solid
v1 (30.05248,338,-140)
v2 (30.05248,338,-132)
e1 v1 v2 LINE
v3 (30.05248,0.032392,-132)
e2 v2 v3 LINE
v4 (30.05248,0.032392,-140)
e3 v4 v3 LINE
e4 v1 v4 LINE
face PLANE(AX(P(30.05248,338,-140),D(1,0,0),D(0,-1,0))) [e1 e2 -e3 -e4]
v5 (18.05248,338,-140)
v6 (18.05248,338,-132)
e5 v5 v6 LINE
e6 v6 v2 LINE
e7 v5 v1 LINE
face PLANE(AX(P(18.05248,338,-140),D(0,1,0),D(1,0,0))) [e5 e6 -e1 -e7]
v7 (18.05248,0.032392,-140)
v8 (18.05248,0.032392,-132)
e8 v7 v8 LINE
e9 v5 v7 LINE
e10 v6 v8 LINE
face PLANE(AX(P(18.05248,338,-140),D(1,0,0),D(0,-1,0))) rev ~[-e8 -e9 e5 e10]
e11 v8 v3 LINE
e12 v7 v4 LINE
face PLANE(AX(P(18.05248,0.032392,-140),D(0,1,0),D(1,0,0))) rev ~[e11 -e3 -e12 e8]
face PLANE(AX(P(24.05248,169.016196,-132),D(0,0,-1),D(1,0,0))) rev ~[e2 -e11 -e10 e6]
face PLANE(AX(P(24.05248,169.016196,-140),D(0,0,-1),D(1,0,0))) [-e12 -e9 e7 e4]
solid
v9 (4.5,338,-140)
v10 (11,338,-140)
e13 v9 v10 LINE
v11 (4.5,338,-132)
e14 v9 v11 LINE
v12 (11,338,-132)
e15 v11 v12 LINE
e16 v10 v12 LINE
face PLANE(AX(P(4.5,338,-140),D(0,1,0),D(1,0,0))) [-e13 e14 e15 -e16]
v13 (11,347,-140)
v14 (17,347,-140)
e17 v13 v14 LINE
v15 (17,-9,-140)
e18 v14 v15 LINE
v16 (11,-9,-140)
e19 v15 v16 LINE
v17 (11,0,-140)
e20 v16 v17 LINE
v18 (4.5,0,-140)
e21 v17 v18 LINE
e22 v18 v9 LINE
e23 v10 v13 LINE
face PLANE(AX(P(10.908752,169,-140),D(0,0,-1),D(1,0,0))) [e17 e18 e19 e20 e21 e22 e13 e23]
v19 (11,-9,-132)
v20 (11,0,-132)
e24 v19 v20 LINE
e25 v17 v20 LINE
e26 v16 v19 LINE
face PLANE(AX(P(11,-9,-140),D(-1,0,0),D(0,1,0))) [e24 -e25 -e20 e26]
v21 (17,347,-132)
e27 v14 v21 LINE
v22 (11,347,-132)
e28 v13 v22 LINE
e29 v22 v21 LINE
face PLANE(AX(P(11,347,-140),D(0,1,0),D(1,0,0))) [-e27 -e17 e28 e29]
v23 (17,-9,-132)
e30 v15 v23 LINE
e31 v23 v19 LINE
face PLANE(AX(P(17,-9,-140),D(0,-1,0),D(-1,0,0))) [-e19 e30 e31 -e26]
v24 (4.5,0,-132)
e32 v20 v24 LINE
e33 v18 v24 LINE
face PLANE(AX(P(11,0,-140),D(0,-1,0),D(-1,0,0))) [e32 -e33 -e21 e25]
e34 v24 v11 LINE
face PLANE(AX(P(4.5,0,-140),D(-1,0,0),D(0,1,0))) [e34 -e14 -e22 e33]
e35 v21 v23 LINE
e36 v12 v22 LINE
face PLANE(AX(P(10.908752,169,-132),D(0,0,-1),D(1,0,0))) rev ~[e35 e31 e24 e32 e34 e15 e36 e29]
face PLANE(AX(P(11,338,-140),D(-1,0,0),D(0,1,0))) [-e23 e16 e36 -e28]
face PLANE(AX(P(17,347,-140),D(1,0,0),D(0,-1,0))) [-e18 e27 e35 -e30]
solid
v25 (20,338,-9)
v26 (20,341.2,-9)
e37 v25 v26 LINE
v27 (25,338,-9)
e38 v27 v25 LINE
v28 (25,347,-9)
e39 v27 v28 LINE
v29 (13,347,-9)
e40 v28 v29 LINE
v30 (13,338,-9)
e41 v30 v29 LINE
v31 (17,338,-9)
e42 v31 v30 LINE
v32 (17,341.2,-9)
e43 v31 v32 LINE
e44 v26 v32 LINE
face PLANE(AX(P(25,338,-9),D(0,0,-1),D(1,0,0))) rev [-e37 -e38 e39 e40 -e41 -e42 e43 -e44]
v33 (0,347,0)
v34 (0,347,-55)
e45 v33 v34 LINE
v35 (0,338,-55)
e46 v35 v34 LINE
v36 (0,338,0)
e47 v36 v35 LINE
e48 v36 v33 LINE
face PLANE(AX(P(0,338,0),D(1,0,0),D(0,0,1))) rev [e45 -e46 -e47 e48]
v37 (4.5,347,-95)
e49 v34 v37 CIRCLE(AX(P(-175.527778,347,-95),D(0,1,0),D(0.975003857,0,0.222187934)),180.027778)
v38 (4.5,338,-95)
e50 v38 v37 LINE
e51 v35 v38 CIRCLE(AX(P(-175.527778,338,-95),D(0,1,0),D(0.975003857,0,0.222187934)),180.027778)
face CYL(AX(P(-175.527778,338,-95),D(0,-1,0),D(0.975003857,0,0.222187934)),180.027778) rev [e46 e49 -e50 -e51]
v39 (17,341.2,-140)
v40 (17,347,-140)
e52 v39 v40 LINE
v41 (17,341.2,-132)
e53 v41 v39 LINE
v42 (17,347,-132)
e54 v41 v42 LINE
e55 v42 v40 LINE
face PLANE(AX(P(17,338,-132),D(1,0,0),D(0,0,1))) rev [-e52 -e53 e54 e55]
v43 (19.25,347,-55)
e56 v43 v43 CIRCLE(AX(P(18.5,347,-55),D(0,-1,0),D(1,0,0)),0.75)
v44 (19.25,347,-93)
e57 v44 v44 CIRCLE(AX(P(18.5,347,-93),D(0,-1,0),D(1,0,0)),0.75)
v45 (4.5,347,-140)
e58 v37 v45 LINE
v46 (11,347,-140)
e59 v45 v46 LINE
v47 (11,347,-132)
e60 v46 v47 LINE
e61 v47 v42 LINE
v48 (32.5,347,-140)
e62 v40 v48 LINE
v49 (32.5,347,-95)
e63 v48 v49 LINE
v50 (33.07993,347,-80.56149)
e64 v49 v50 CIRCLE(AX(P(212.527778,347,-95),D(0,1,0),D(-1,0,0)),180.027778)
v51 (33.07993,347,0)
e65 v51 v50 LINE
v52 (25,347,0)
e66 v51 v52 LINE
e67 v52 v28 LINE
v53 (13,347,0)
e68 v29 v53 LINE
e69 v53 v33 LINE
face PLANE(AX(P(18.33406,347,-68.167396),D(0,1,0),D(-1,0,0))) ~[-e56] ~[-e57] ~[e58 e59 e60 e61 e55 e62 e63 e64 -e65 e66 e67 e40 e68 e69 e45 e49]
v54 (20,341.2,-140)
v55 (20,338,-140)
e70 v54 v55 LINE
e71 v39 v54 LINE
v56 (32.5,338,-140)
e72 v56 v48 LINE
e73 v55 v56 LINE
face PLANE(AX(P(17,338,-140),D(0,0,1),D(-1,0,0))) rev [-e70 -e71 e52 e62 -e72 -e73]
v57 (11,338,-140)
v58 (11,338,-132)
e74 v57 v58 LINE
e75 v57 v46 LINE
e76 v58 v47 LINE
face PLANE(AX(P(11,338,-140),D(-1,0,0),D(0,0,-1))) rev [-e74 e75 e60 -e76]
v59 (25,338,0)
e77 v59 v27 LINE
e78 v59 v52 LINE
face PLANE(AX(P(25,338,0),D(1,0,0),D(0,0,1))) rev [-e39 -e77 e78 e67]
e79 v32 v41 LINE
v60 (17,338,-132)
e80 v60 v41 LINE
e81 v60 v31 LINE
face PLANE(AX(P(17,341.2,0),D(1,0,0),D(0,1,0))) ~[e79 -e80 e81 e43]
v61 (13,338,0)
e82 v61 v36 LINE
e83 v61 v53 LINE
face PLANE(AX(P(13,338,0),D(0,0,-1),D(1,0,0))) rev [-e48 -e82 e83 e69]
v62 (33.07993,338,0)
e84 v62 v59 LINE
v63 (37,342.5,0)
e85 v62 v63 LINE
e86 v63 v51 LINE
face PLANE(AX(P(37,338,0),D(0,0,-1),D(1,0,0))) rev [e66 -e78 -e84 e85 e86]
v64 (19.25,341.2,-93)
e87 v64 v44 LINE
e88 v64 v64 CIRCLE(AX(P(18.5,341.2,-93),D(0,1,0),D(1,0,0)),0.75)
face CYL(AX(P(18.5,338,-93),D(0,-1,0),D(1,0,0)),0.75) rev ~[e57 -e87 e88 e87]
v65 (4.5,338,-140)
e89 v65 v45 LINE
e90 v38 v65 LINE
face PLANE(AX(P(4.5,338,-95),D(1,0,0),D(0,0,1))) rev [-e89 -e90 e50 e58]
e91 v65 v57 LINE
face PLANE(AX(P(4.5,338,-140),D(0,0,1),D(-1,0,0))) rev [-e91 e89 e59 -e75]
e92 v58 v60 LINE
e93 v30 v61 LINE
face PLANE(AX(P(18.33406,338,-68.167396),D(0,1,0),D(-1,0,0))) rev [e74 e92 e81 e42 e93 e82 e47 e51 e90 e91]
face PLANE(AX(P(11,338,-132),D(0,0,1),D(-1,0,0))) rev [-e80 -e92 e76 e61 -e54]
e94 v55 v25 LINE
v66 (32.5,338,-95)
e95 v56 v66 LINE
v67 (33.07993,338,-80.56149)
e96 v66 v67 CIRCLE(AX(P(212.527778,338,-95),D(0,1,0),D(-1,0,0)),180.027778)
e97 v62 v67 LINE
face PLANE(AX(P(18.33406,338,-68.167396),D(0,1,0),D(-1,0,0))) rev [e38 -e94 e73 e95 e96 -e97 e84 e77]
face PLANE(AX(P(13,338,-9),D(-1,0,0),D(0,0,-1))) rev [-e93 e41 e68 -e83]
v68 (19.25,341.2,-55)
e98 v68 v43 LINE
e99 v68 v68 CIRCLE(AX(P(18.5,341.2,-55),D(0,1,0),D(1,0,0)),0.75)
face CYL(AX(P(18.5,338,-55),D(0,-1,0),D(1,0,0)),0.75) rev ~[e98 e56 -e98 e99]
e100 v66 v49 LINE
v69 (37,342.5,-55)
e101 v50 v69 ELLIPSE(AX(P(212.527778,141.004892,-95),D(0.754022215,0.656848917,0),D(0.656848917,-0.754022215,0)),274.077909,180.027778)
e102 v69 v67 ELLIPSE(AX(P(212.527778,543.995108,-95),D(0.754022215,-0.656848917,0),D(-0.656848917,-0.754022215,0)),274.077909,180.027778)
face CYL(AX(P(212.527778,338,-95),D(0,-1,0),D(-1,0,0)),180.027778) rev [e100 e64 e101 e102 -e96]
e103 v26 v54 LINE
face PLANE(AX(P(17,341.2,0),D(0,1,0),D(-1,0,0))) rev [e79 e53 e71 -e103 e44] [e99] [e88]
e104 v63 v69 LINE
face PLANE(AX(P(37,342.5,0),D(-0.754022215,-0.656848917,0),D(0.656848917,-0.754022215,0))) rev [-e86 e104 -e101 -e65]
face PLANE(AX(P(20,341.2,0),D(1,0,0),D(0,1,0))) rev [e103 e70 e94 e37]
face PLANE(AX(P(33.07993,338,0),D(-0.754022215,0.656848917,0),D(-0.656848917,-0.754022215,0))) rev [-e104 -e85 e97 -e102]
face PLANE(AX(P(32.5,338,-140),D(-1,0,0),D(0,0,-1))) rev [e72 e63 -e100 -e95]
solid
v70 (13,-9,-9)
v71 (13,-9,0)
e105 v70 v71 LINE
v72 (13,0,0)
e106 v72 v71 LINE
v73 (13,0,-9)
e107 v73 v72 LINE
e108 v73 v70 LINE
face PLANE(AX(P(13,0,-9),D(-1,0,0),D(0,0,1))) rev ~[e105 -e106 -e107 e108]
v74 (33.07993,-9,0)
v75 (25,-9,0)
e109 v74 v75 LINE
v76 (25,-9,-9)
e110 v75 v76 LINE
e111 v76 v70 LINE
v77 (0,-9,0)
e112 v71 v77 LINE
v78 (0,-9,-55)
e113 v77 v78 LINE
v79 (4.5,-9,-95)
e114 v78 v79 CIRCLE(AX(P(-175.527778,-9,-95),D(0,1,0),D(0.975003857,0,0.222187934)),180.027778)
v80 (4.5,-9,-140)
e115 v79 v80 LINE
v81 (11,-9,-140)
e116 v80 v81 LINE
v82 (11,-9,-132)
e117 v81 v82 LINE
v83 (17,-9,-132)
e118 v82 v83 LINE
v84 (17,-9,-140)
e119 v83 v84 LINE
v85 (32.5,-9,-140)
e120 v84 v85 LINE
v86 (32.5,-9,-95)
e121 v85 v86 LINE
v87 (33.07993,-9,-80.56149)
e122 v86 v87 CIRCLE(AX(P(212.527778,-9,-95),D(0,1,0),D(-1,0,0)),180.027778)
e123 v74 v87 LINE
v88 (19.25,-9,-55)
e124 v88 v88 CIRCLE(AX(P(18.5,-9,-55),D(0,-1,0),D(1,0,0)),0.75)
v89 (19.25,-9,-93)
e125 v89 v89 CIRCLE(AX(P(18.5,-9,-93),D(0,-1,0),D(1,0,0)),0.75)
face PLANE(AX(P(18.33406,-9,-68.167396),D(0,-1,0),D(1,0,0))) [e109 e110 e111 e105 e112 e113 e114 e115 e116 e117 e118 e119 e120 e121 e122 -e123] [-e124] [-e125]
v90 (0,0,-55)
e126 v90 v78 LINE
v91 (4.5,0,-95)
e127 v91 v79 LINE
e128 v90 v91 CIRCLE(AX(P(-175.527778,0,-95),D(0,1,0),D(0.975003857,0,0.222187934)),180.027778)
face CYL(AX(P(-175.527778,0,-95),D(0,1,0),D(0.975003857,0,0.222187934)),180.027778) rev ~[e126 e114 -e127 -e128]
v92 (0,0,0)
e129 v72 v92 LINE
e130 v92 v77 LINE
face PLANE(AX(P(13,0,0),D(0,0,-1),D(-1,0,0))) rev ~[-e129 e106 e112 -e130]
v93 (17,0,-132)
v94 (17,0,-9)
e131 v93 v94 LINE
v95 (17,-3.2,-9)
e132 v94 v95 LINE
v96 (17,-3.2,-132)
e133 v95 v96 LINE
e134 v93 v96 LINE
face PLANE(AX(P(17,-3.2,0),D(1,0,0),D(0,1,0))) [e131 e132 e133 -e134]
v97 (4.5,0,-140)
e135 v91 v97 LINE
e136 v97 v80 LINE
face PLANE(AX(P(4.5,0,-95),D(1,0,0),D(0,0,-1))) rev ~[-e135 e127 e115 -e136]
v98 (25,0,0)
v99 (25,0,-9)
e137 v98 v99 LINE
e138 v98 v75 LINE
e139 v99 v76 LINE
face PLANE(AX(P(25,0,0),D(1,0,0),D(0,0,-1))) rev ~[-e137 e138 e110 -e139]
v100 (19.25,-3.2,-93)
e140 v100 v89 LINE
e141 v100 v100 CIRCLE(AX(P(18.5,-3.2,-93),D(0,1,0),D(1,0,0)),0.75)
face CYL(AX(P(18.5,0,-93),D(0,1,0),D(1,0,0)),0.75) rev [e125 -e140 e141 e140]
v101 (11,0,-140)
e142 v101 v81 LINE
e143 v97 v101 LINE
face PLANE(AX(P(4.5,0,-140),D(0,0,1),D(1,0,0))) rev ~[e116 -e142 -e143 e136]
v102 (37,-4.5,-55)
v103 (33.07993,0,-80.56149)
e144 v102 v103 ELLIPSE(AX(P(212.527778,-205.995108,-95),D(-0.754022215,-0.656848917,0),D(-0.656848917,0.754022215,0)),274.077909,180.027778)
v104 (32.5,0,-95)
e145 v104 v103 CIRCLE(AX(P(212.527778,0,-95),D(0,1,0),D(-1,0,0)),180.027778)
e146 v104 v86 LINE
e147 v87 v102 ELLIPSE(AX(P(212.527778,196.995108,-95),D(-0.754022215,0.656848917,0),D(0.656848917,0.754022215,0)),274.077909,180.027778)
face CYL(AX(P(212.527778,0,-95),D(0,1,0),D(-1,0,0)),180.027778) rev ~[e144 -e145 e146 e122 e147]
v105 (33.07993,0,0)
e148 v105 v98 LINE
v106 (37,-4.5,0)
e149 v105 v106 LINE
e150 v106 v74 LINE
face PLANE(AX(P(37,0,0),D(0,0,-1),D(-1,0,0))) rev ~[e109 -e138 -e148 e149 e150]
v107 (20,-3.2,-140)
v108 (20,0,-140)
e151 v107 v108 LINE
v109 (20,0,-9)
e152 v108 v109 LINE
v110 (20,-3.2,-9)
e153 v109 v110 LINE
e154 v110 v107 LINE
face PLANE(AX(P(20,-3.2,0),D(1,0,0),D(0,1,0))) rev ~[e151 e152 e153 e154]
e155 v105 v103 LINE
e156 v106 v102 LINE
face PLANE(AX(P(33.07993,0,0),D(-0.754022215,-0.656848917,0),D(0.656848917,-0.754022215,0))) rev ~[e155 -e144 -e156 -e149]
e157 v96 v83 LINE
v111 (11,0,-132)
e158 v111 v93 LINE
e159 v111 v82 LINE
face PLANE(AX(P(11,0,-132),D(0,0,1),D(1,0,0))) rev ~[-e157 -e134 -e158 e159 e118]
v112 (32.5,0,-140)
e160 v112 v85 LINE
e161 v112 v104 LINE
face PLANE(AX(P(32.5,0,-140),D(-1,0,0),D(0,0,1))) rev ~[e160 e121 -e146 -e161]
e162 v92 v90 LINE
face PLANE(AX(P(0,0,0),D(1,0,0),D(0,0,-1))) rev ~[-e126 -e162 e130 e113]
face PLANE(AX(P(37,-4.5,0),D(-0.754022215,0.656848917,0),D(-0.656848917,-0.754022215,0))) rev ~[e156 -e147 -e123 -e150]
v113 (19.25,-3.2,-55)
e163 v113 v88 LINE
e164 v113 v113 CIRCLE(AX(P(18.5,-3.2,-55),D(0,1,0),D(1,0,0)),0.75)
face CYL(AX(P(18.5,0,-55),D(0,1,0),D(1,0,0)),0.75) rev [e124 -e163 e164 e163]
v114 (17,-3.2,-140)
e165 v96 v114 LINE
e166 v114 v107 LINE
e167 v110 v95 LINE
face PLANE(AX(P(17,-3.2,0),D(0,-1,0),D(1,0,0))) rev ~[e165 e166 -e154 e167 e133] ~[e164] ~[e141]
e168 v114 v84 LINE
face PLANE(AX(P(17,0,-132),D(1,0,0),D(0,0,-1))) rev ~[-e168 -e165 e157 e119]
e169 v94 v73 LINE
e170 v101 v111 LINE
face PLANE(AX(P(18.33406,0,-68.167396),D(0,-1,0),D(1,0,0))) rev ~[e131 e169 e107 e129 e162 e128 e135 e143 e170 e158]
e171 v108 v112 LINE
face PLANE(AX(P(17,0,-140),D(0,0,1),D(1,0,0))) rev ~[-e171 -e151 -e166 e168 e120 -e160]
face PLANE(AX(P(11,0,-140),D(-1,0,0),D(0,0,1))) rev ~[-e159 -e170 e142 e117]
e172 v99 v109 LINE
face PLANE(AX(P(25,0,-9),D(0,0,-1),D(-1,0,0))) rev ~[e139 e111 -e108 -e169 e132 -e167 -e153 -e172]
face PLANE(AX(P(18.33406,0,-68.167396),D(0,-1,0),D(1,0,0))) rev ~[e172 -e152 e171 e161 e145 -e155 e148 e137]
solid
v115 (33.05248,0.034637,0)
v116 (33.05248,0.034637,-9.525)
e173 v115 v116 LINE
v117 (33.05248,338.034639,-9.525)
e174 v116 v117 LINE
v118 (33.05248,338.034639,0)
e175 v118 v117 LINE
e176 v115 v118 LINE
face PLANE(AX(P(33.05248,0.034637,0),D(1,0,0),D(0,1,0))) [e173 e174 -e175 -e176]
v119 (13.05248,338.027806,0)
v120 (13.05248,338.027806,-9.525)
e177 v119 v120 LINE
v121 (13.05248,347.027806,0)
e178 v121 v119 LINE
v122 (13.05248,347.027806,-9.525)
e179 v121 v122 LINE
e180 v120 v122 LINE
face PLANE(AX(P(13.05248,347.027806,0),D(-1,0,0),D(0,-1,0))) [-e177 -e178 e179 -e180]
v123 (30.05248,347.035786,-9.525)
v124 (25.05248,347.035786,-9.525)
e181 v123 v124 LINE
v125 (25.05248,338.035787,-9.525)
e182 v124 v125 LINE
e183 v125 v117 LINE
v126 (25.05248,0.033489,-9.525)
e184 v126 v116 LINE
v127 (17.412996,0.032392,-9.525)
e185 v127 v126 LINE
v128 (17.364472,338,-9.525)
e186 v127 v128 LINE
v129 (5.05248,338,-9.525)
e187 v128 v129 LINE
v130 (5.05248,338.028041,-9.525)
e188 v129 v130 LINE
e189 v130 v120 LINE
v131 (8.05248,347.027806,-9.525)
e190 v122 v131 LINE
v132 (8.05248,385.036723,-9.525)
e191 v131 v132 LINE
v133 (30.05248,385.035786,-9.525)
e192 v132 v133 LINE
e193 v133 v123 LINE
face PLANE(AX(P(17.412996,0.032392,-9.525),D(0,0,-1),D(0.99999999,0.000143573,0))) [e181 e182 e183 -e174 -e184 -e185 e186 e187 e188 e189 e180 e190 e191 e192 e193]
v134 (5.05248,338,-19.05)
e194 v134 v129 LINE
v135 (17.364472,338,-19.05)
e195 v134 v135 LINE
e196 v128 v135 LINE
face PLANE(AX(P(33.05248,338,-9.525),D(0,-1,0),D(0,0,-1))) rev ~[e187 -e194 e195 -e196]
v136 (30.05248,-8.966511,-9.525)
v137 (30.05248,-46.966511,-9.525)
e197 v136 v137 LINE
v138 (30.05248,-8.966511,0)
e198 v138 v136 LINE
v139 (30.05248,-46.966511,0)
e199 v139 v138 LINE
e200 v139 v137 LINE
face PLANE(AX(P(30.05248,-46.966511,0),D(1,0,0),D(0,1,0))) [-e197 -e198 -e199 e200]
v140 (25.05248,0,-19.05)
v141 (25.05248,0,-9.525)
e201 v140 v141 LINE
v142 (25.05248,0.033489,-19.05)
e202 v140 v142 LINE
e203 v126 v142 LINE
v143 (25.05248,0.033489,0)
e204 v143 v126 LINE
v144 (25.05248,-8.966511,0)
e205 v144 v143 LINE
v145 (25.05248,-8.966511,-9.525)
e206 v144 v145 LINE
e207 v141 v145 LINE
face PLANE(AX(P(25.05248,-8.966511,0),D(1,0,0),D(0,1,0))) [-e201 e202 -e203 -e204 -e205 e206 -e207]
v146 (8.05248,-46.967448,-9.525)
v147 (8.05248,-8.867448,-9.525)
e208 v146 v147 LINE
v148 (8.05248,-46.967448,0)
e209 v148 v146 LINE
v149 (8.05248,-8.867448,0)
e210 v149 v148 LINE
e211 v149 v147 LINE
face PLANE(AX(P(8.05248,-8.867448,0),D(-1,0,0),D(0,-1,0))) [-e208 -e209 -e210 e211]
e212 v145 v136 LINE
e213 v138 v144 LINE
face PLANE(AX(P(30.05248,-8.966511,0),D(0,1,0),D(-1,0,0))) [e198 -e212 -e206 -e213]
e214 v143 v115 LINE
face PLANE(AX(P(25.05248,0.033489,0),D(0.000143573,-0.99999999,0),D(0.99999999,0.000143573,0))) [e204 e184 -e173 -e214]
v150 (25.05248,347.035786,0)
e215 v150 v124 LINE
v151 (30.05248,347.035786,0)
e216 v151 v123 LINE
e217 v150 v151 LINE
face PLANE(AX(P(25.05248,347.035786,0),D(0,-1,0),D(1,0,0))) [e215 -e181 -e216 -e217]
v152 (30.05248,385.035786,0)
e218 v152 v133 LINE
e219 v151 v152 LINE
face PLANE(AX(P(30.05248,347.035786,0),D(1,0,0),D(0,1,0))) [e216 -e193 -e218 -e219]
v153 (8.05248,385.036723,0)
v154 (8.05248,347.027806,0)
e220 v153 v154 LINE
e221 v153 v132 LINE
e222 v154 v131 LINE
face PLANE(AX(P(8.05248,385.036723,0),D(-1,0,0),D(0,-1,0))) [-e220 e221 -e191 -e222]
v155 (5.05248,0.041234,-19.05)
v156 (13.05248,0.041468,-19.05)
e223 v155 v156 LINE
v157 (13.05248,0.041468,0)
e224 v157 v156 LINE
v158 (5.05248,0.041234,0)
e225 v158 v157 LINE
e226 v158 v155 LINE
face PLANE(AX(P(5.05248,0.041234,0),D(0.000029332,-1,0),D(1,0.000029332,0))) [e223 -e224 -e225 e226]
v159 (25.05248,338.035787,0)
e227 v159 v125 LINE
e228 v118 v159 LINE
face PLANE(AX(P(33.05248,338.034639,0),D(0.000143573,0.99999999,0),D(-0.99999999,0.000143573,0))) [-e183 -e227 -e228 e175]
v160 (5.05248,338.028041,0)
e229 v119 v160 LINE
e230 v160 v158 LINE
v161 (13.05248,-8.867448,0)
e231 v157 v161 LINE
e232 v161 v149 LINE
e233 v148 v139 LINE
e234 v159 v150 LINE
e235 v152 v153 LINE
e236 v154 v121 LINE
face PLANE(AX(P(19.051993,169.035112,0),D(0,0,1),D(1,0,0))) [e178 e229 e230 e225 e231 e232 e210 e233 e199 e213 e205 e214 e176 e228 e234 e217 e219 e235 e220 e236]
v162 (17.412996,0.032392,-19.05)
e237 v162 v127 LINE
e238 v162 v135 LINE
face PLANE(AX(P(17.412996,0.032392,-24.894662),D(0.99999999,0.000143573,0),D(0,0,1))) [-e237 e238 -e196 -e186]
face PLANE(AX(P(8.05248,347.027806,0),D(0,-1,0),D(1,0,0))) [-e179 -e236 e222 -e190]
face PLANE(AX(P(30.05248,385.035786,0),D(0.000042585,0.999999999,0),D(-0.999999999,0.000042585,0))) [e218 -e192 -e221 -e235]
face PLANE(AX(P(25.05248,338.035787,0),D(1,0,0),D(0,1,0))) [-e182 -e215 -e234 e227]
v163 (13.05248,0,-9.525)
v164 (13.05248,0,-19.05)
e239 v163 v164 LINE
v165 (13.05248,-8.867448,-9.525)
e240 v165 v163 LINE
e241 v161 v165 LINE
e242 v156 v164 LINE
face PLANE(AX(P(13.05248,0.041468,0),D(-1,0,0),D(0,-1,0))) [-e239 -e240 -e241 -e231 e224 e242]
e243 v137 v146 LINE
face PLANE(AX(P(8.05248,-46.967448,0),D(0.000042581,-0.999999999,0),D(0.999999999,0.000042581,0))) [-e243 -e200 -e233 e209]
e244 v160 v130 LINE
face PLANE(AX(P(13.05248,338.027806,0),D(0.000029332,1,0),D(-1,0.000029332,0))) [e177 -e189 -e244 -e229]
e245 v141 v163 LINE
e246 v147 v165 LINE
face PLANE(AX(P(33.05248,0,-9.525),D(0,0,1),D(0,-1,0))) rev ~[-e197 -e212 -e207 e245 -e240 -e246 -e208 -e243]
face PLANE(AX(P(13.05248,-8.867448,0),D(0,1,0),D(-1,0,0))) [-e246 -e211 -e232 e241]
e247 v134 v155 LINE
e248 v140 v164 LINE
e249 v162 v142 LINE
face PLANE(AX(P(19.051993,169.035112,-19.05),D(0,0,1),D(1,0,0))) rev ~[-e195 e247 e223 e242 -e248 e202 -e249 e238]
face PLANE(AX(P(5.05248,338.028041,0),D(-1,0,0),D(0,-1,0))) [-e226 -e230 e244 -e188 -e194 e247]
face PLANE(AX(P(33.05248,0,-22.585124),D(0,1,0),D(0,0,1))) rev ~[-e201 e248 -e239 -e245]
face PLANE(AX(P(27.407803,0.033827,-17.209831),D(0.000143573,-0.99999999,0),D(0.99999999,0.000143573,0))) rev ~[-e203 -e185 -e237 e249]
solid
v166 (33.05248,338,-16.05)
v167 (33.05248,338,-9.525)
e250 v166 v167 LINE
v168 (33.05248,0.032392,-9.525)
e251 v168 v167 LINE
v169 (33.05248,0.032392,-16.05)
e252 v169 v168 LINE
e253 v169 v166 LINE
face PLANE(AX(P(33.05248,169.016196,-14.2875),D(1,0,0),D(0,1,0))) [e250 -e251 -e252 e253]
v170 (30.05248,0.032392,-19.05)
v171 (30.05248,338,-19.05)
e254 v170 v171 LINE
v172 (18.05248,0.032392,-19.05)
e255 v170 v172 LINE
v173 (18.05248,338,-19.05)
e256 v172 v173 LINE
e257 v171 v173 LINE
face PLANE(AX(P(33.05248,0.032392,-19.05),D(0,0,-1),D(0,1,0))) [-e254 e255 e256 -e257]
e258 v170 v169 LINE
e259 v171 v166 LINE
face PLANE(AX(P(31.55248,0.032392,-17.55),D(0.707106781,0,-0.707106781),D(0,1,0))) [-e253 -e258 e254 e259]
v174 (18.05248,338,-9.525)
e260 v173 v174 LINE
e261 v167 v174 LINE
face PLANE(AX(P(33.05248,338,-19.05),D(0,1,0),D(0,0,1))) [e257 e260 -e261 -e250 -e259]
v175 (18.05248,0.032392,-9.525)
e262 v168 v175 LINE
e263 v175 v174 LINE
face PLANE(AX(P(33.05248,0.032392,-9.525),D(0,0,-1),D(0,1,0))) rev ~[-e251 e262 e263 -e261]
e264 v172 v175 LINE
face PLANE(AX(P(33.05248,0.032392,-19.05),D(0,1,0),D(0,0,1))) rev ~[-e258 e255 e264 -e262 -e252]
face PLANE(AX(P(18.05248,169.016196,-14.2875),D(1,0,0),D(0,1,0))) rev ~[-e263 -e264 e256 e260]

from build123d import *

# Parameters (mm, degrees)
F1_DEPTH  = 19.05
F2_W      = 19.9896149511
F2_H      = 15.3696622014
F3_DEPTH  = 338.0011464902
F5_DEPTH  = 28.001
F6_W      = 337.9676082338
F6_H      = 9.525
F7_DEPTH  = 15
F8_SIZE   = 3
F9_R      = 0.75
F10_DEPTH = 9
F11_W     = 3
F11_H     = 4.0192092803
F12_DEPTH = 140.001
F16_DEPTH = 8
F15_W     = 12
F15_H     = 337.9676082336


with BuildPart() as f1:
    # F0 (on Top) → F1 (new body)
    with BuildSketch(Plane.XY):
        Polygon((25.0524798076, 0.0334885936), (33.0524798076, 0.0346371813), (33.0524798076, 338.0346385675), (25.0524798078, 338.0357871552), (25.0524798076, 347.0357857691), (30.0524798076, 347.0357857691), (30.0524798076, 385.0357857691), (8.0524798076, 385.0367226312), (8.0524798076, 347.0278060534), (13.0524798076, 347.0278060534), (13.0524798076, 338.0278060534), (5.0524798076, 338.0280407086), (5.0524798076, 0.0412336541), (13.0524798076, 0.0414683092), (13.0524798076, -8.8674482686), (8.0524798076, -8.8674482686), (8.0524798076, -46.9674482686), (30.0524798076, -46.9665114967), (30.0524798076, -8.9665114064), (25.0524798076, -8.9665114064), align=None)
    extrude(amount=-F1_DEPTH)

    # F2 (on face) → F3 (cut, through all)
    with BuildSketch(Plane(origin=(-4.2917e-06, 0.0298917216, 0), x_dir=(0.9999999897, 0.0001435735, 0), z_dir=(0.0001435735, -0.9999999897, 0))):
        with Locations((27.4078074756, -17.2098311007)):
            Rectangle(F2_W, F2_H)
    extrude(amount=-F3_DEPTH, mode=Mode.SUBTRACT)

    # F4 (on face) → F5 (cut, through all)
    with BuildSketch(Plane.YZ.offset(33.0524798076)):
        Polygon((0, -22.5851237774), (0, -9.525), (-57.0387654006, -9.525), (-57.0387654006, -22.2101248801), align=None)
        Polygon((338.0346385675, -9.525), (338, -9.525), (338, -24.2499262094), (394.569247961, -24.2499262094), (394.4216072559, -9.525), align=None)
    extrude(amount=-F5_DEPTH, mode=Mode.SUBTRACT)


with BuildPart() as f7:
    # F6 (on face) → F7 (new body)
    with BuildSketch(Plane.YZ.offset(33.0524798076)):
        with Locations((169.0161958831, -14.2875)):
            Rectangle(F6_W, F6_H)
    extrude(amount=-F7_DEPTH)

    # F8
    f8_edges = [f7.edges().sort_by_distance(p)[0] for p in [
        (33.05248, 169.016196, -19.05),
    ]]
    chamfer(f8_edges, length=F8_SIZE)


with BuildPart() as f10:
    # F9 (on Front) → F10 (new body)
    with BuildSketch(Plane.XZ):
        with BuildLine():
            Line((13, 0), (0, 0))
            Line((0, 0), (0, -55))
            ThreePointArc((0, -55), (3.3714627785, -74.8738354374), (4.5, -95))
            Line((4.5, -95), (4.5, -140))
            Line((4.5, -140), (11, -140))
            Line((11, -140), (11, -132))
            Line((11, -132), (17, -132))
            Line((17, -132), (17, -140))
            Line((17, -140), (32.5, -140))
            Line((32.5, -140), (32.5, -95))
            ThreePointArc((32.5, -95), (33.6285372215, -74.8738354374), (37, -55))
            Line((37, -55), (37, 0))
            Line((37, 0), (25, 0))
            Line((25, 0), (25, -9))
            Line((25, -9), (13, -9))
            Line((13, -9), (13, 0))
        make_face()
        with Locations((18.5, -93)):
            Circle(F9_R, mode=Mode.SUBTRACT)
        with Locations((18.5, -55)):
            Circle(F9_R, mode=Mode.SUBTRACT)
    extrude(amount=F10_DEPTH)

    # F11 (on Top) → F12 (cut, through all)
    with BuildSketch(Plane.XY):
        with Locations((18.5, -1.1903953598)):
            Rectangle(F11_W, F11_H)
        Polygon((33.0799296498, 0), (37, -4.5), (33.0799296498, -9), (38.3763611317, -11.9362315163), (38.3763611317, 3.0553650577), align=None)
    extrude(amount=-F12_DEPTH, mode=Mode.SUBTRACT)


with BuildPart() as f14_1:
    # F14: instance of F10
    add(f10.part.mirror(Plane.XZ.offset(-169)))


with BuildPart() as f16:
    # F15 (on face) → F16 (new body, through all)
    with BuildSketch(Plane(origin=(0, 0, -140), x_dir=(1, 0, 0), z_dir=(0, 0, -1))):
        Polygon((17, 9), (11, 9), (11, 0), (4.5, 0), (4.5, -338), (11, -338), (11, -347), (17, -347), align=None)
    extrude(amount=-F16_DEPTH)


with BuildPart() as f16b:
    # F15 (on face) → F16, piece 2 (new body, through all)
    with BuildSketch(Plane(origin=(0, 0, -140), x_dir=(1, 0, 0), z_dir=(0, 0, -1))):
        with Locations((24.0524798076, -169.0161958832)):
            Rectangle(F15_W, F15_H)
    extrude(amount=-F16_DEPTH)


solid = Compound([f1.part, f7.part, f10.part, f14_1.part, f16.part, f16b.part])
